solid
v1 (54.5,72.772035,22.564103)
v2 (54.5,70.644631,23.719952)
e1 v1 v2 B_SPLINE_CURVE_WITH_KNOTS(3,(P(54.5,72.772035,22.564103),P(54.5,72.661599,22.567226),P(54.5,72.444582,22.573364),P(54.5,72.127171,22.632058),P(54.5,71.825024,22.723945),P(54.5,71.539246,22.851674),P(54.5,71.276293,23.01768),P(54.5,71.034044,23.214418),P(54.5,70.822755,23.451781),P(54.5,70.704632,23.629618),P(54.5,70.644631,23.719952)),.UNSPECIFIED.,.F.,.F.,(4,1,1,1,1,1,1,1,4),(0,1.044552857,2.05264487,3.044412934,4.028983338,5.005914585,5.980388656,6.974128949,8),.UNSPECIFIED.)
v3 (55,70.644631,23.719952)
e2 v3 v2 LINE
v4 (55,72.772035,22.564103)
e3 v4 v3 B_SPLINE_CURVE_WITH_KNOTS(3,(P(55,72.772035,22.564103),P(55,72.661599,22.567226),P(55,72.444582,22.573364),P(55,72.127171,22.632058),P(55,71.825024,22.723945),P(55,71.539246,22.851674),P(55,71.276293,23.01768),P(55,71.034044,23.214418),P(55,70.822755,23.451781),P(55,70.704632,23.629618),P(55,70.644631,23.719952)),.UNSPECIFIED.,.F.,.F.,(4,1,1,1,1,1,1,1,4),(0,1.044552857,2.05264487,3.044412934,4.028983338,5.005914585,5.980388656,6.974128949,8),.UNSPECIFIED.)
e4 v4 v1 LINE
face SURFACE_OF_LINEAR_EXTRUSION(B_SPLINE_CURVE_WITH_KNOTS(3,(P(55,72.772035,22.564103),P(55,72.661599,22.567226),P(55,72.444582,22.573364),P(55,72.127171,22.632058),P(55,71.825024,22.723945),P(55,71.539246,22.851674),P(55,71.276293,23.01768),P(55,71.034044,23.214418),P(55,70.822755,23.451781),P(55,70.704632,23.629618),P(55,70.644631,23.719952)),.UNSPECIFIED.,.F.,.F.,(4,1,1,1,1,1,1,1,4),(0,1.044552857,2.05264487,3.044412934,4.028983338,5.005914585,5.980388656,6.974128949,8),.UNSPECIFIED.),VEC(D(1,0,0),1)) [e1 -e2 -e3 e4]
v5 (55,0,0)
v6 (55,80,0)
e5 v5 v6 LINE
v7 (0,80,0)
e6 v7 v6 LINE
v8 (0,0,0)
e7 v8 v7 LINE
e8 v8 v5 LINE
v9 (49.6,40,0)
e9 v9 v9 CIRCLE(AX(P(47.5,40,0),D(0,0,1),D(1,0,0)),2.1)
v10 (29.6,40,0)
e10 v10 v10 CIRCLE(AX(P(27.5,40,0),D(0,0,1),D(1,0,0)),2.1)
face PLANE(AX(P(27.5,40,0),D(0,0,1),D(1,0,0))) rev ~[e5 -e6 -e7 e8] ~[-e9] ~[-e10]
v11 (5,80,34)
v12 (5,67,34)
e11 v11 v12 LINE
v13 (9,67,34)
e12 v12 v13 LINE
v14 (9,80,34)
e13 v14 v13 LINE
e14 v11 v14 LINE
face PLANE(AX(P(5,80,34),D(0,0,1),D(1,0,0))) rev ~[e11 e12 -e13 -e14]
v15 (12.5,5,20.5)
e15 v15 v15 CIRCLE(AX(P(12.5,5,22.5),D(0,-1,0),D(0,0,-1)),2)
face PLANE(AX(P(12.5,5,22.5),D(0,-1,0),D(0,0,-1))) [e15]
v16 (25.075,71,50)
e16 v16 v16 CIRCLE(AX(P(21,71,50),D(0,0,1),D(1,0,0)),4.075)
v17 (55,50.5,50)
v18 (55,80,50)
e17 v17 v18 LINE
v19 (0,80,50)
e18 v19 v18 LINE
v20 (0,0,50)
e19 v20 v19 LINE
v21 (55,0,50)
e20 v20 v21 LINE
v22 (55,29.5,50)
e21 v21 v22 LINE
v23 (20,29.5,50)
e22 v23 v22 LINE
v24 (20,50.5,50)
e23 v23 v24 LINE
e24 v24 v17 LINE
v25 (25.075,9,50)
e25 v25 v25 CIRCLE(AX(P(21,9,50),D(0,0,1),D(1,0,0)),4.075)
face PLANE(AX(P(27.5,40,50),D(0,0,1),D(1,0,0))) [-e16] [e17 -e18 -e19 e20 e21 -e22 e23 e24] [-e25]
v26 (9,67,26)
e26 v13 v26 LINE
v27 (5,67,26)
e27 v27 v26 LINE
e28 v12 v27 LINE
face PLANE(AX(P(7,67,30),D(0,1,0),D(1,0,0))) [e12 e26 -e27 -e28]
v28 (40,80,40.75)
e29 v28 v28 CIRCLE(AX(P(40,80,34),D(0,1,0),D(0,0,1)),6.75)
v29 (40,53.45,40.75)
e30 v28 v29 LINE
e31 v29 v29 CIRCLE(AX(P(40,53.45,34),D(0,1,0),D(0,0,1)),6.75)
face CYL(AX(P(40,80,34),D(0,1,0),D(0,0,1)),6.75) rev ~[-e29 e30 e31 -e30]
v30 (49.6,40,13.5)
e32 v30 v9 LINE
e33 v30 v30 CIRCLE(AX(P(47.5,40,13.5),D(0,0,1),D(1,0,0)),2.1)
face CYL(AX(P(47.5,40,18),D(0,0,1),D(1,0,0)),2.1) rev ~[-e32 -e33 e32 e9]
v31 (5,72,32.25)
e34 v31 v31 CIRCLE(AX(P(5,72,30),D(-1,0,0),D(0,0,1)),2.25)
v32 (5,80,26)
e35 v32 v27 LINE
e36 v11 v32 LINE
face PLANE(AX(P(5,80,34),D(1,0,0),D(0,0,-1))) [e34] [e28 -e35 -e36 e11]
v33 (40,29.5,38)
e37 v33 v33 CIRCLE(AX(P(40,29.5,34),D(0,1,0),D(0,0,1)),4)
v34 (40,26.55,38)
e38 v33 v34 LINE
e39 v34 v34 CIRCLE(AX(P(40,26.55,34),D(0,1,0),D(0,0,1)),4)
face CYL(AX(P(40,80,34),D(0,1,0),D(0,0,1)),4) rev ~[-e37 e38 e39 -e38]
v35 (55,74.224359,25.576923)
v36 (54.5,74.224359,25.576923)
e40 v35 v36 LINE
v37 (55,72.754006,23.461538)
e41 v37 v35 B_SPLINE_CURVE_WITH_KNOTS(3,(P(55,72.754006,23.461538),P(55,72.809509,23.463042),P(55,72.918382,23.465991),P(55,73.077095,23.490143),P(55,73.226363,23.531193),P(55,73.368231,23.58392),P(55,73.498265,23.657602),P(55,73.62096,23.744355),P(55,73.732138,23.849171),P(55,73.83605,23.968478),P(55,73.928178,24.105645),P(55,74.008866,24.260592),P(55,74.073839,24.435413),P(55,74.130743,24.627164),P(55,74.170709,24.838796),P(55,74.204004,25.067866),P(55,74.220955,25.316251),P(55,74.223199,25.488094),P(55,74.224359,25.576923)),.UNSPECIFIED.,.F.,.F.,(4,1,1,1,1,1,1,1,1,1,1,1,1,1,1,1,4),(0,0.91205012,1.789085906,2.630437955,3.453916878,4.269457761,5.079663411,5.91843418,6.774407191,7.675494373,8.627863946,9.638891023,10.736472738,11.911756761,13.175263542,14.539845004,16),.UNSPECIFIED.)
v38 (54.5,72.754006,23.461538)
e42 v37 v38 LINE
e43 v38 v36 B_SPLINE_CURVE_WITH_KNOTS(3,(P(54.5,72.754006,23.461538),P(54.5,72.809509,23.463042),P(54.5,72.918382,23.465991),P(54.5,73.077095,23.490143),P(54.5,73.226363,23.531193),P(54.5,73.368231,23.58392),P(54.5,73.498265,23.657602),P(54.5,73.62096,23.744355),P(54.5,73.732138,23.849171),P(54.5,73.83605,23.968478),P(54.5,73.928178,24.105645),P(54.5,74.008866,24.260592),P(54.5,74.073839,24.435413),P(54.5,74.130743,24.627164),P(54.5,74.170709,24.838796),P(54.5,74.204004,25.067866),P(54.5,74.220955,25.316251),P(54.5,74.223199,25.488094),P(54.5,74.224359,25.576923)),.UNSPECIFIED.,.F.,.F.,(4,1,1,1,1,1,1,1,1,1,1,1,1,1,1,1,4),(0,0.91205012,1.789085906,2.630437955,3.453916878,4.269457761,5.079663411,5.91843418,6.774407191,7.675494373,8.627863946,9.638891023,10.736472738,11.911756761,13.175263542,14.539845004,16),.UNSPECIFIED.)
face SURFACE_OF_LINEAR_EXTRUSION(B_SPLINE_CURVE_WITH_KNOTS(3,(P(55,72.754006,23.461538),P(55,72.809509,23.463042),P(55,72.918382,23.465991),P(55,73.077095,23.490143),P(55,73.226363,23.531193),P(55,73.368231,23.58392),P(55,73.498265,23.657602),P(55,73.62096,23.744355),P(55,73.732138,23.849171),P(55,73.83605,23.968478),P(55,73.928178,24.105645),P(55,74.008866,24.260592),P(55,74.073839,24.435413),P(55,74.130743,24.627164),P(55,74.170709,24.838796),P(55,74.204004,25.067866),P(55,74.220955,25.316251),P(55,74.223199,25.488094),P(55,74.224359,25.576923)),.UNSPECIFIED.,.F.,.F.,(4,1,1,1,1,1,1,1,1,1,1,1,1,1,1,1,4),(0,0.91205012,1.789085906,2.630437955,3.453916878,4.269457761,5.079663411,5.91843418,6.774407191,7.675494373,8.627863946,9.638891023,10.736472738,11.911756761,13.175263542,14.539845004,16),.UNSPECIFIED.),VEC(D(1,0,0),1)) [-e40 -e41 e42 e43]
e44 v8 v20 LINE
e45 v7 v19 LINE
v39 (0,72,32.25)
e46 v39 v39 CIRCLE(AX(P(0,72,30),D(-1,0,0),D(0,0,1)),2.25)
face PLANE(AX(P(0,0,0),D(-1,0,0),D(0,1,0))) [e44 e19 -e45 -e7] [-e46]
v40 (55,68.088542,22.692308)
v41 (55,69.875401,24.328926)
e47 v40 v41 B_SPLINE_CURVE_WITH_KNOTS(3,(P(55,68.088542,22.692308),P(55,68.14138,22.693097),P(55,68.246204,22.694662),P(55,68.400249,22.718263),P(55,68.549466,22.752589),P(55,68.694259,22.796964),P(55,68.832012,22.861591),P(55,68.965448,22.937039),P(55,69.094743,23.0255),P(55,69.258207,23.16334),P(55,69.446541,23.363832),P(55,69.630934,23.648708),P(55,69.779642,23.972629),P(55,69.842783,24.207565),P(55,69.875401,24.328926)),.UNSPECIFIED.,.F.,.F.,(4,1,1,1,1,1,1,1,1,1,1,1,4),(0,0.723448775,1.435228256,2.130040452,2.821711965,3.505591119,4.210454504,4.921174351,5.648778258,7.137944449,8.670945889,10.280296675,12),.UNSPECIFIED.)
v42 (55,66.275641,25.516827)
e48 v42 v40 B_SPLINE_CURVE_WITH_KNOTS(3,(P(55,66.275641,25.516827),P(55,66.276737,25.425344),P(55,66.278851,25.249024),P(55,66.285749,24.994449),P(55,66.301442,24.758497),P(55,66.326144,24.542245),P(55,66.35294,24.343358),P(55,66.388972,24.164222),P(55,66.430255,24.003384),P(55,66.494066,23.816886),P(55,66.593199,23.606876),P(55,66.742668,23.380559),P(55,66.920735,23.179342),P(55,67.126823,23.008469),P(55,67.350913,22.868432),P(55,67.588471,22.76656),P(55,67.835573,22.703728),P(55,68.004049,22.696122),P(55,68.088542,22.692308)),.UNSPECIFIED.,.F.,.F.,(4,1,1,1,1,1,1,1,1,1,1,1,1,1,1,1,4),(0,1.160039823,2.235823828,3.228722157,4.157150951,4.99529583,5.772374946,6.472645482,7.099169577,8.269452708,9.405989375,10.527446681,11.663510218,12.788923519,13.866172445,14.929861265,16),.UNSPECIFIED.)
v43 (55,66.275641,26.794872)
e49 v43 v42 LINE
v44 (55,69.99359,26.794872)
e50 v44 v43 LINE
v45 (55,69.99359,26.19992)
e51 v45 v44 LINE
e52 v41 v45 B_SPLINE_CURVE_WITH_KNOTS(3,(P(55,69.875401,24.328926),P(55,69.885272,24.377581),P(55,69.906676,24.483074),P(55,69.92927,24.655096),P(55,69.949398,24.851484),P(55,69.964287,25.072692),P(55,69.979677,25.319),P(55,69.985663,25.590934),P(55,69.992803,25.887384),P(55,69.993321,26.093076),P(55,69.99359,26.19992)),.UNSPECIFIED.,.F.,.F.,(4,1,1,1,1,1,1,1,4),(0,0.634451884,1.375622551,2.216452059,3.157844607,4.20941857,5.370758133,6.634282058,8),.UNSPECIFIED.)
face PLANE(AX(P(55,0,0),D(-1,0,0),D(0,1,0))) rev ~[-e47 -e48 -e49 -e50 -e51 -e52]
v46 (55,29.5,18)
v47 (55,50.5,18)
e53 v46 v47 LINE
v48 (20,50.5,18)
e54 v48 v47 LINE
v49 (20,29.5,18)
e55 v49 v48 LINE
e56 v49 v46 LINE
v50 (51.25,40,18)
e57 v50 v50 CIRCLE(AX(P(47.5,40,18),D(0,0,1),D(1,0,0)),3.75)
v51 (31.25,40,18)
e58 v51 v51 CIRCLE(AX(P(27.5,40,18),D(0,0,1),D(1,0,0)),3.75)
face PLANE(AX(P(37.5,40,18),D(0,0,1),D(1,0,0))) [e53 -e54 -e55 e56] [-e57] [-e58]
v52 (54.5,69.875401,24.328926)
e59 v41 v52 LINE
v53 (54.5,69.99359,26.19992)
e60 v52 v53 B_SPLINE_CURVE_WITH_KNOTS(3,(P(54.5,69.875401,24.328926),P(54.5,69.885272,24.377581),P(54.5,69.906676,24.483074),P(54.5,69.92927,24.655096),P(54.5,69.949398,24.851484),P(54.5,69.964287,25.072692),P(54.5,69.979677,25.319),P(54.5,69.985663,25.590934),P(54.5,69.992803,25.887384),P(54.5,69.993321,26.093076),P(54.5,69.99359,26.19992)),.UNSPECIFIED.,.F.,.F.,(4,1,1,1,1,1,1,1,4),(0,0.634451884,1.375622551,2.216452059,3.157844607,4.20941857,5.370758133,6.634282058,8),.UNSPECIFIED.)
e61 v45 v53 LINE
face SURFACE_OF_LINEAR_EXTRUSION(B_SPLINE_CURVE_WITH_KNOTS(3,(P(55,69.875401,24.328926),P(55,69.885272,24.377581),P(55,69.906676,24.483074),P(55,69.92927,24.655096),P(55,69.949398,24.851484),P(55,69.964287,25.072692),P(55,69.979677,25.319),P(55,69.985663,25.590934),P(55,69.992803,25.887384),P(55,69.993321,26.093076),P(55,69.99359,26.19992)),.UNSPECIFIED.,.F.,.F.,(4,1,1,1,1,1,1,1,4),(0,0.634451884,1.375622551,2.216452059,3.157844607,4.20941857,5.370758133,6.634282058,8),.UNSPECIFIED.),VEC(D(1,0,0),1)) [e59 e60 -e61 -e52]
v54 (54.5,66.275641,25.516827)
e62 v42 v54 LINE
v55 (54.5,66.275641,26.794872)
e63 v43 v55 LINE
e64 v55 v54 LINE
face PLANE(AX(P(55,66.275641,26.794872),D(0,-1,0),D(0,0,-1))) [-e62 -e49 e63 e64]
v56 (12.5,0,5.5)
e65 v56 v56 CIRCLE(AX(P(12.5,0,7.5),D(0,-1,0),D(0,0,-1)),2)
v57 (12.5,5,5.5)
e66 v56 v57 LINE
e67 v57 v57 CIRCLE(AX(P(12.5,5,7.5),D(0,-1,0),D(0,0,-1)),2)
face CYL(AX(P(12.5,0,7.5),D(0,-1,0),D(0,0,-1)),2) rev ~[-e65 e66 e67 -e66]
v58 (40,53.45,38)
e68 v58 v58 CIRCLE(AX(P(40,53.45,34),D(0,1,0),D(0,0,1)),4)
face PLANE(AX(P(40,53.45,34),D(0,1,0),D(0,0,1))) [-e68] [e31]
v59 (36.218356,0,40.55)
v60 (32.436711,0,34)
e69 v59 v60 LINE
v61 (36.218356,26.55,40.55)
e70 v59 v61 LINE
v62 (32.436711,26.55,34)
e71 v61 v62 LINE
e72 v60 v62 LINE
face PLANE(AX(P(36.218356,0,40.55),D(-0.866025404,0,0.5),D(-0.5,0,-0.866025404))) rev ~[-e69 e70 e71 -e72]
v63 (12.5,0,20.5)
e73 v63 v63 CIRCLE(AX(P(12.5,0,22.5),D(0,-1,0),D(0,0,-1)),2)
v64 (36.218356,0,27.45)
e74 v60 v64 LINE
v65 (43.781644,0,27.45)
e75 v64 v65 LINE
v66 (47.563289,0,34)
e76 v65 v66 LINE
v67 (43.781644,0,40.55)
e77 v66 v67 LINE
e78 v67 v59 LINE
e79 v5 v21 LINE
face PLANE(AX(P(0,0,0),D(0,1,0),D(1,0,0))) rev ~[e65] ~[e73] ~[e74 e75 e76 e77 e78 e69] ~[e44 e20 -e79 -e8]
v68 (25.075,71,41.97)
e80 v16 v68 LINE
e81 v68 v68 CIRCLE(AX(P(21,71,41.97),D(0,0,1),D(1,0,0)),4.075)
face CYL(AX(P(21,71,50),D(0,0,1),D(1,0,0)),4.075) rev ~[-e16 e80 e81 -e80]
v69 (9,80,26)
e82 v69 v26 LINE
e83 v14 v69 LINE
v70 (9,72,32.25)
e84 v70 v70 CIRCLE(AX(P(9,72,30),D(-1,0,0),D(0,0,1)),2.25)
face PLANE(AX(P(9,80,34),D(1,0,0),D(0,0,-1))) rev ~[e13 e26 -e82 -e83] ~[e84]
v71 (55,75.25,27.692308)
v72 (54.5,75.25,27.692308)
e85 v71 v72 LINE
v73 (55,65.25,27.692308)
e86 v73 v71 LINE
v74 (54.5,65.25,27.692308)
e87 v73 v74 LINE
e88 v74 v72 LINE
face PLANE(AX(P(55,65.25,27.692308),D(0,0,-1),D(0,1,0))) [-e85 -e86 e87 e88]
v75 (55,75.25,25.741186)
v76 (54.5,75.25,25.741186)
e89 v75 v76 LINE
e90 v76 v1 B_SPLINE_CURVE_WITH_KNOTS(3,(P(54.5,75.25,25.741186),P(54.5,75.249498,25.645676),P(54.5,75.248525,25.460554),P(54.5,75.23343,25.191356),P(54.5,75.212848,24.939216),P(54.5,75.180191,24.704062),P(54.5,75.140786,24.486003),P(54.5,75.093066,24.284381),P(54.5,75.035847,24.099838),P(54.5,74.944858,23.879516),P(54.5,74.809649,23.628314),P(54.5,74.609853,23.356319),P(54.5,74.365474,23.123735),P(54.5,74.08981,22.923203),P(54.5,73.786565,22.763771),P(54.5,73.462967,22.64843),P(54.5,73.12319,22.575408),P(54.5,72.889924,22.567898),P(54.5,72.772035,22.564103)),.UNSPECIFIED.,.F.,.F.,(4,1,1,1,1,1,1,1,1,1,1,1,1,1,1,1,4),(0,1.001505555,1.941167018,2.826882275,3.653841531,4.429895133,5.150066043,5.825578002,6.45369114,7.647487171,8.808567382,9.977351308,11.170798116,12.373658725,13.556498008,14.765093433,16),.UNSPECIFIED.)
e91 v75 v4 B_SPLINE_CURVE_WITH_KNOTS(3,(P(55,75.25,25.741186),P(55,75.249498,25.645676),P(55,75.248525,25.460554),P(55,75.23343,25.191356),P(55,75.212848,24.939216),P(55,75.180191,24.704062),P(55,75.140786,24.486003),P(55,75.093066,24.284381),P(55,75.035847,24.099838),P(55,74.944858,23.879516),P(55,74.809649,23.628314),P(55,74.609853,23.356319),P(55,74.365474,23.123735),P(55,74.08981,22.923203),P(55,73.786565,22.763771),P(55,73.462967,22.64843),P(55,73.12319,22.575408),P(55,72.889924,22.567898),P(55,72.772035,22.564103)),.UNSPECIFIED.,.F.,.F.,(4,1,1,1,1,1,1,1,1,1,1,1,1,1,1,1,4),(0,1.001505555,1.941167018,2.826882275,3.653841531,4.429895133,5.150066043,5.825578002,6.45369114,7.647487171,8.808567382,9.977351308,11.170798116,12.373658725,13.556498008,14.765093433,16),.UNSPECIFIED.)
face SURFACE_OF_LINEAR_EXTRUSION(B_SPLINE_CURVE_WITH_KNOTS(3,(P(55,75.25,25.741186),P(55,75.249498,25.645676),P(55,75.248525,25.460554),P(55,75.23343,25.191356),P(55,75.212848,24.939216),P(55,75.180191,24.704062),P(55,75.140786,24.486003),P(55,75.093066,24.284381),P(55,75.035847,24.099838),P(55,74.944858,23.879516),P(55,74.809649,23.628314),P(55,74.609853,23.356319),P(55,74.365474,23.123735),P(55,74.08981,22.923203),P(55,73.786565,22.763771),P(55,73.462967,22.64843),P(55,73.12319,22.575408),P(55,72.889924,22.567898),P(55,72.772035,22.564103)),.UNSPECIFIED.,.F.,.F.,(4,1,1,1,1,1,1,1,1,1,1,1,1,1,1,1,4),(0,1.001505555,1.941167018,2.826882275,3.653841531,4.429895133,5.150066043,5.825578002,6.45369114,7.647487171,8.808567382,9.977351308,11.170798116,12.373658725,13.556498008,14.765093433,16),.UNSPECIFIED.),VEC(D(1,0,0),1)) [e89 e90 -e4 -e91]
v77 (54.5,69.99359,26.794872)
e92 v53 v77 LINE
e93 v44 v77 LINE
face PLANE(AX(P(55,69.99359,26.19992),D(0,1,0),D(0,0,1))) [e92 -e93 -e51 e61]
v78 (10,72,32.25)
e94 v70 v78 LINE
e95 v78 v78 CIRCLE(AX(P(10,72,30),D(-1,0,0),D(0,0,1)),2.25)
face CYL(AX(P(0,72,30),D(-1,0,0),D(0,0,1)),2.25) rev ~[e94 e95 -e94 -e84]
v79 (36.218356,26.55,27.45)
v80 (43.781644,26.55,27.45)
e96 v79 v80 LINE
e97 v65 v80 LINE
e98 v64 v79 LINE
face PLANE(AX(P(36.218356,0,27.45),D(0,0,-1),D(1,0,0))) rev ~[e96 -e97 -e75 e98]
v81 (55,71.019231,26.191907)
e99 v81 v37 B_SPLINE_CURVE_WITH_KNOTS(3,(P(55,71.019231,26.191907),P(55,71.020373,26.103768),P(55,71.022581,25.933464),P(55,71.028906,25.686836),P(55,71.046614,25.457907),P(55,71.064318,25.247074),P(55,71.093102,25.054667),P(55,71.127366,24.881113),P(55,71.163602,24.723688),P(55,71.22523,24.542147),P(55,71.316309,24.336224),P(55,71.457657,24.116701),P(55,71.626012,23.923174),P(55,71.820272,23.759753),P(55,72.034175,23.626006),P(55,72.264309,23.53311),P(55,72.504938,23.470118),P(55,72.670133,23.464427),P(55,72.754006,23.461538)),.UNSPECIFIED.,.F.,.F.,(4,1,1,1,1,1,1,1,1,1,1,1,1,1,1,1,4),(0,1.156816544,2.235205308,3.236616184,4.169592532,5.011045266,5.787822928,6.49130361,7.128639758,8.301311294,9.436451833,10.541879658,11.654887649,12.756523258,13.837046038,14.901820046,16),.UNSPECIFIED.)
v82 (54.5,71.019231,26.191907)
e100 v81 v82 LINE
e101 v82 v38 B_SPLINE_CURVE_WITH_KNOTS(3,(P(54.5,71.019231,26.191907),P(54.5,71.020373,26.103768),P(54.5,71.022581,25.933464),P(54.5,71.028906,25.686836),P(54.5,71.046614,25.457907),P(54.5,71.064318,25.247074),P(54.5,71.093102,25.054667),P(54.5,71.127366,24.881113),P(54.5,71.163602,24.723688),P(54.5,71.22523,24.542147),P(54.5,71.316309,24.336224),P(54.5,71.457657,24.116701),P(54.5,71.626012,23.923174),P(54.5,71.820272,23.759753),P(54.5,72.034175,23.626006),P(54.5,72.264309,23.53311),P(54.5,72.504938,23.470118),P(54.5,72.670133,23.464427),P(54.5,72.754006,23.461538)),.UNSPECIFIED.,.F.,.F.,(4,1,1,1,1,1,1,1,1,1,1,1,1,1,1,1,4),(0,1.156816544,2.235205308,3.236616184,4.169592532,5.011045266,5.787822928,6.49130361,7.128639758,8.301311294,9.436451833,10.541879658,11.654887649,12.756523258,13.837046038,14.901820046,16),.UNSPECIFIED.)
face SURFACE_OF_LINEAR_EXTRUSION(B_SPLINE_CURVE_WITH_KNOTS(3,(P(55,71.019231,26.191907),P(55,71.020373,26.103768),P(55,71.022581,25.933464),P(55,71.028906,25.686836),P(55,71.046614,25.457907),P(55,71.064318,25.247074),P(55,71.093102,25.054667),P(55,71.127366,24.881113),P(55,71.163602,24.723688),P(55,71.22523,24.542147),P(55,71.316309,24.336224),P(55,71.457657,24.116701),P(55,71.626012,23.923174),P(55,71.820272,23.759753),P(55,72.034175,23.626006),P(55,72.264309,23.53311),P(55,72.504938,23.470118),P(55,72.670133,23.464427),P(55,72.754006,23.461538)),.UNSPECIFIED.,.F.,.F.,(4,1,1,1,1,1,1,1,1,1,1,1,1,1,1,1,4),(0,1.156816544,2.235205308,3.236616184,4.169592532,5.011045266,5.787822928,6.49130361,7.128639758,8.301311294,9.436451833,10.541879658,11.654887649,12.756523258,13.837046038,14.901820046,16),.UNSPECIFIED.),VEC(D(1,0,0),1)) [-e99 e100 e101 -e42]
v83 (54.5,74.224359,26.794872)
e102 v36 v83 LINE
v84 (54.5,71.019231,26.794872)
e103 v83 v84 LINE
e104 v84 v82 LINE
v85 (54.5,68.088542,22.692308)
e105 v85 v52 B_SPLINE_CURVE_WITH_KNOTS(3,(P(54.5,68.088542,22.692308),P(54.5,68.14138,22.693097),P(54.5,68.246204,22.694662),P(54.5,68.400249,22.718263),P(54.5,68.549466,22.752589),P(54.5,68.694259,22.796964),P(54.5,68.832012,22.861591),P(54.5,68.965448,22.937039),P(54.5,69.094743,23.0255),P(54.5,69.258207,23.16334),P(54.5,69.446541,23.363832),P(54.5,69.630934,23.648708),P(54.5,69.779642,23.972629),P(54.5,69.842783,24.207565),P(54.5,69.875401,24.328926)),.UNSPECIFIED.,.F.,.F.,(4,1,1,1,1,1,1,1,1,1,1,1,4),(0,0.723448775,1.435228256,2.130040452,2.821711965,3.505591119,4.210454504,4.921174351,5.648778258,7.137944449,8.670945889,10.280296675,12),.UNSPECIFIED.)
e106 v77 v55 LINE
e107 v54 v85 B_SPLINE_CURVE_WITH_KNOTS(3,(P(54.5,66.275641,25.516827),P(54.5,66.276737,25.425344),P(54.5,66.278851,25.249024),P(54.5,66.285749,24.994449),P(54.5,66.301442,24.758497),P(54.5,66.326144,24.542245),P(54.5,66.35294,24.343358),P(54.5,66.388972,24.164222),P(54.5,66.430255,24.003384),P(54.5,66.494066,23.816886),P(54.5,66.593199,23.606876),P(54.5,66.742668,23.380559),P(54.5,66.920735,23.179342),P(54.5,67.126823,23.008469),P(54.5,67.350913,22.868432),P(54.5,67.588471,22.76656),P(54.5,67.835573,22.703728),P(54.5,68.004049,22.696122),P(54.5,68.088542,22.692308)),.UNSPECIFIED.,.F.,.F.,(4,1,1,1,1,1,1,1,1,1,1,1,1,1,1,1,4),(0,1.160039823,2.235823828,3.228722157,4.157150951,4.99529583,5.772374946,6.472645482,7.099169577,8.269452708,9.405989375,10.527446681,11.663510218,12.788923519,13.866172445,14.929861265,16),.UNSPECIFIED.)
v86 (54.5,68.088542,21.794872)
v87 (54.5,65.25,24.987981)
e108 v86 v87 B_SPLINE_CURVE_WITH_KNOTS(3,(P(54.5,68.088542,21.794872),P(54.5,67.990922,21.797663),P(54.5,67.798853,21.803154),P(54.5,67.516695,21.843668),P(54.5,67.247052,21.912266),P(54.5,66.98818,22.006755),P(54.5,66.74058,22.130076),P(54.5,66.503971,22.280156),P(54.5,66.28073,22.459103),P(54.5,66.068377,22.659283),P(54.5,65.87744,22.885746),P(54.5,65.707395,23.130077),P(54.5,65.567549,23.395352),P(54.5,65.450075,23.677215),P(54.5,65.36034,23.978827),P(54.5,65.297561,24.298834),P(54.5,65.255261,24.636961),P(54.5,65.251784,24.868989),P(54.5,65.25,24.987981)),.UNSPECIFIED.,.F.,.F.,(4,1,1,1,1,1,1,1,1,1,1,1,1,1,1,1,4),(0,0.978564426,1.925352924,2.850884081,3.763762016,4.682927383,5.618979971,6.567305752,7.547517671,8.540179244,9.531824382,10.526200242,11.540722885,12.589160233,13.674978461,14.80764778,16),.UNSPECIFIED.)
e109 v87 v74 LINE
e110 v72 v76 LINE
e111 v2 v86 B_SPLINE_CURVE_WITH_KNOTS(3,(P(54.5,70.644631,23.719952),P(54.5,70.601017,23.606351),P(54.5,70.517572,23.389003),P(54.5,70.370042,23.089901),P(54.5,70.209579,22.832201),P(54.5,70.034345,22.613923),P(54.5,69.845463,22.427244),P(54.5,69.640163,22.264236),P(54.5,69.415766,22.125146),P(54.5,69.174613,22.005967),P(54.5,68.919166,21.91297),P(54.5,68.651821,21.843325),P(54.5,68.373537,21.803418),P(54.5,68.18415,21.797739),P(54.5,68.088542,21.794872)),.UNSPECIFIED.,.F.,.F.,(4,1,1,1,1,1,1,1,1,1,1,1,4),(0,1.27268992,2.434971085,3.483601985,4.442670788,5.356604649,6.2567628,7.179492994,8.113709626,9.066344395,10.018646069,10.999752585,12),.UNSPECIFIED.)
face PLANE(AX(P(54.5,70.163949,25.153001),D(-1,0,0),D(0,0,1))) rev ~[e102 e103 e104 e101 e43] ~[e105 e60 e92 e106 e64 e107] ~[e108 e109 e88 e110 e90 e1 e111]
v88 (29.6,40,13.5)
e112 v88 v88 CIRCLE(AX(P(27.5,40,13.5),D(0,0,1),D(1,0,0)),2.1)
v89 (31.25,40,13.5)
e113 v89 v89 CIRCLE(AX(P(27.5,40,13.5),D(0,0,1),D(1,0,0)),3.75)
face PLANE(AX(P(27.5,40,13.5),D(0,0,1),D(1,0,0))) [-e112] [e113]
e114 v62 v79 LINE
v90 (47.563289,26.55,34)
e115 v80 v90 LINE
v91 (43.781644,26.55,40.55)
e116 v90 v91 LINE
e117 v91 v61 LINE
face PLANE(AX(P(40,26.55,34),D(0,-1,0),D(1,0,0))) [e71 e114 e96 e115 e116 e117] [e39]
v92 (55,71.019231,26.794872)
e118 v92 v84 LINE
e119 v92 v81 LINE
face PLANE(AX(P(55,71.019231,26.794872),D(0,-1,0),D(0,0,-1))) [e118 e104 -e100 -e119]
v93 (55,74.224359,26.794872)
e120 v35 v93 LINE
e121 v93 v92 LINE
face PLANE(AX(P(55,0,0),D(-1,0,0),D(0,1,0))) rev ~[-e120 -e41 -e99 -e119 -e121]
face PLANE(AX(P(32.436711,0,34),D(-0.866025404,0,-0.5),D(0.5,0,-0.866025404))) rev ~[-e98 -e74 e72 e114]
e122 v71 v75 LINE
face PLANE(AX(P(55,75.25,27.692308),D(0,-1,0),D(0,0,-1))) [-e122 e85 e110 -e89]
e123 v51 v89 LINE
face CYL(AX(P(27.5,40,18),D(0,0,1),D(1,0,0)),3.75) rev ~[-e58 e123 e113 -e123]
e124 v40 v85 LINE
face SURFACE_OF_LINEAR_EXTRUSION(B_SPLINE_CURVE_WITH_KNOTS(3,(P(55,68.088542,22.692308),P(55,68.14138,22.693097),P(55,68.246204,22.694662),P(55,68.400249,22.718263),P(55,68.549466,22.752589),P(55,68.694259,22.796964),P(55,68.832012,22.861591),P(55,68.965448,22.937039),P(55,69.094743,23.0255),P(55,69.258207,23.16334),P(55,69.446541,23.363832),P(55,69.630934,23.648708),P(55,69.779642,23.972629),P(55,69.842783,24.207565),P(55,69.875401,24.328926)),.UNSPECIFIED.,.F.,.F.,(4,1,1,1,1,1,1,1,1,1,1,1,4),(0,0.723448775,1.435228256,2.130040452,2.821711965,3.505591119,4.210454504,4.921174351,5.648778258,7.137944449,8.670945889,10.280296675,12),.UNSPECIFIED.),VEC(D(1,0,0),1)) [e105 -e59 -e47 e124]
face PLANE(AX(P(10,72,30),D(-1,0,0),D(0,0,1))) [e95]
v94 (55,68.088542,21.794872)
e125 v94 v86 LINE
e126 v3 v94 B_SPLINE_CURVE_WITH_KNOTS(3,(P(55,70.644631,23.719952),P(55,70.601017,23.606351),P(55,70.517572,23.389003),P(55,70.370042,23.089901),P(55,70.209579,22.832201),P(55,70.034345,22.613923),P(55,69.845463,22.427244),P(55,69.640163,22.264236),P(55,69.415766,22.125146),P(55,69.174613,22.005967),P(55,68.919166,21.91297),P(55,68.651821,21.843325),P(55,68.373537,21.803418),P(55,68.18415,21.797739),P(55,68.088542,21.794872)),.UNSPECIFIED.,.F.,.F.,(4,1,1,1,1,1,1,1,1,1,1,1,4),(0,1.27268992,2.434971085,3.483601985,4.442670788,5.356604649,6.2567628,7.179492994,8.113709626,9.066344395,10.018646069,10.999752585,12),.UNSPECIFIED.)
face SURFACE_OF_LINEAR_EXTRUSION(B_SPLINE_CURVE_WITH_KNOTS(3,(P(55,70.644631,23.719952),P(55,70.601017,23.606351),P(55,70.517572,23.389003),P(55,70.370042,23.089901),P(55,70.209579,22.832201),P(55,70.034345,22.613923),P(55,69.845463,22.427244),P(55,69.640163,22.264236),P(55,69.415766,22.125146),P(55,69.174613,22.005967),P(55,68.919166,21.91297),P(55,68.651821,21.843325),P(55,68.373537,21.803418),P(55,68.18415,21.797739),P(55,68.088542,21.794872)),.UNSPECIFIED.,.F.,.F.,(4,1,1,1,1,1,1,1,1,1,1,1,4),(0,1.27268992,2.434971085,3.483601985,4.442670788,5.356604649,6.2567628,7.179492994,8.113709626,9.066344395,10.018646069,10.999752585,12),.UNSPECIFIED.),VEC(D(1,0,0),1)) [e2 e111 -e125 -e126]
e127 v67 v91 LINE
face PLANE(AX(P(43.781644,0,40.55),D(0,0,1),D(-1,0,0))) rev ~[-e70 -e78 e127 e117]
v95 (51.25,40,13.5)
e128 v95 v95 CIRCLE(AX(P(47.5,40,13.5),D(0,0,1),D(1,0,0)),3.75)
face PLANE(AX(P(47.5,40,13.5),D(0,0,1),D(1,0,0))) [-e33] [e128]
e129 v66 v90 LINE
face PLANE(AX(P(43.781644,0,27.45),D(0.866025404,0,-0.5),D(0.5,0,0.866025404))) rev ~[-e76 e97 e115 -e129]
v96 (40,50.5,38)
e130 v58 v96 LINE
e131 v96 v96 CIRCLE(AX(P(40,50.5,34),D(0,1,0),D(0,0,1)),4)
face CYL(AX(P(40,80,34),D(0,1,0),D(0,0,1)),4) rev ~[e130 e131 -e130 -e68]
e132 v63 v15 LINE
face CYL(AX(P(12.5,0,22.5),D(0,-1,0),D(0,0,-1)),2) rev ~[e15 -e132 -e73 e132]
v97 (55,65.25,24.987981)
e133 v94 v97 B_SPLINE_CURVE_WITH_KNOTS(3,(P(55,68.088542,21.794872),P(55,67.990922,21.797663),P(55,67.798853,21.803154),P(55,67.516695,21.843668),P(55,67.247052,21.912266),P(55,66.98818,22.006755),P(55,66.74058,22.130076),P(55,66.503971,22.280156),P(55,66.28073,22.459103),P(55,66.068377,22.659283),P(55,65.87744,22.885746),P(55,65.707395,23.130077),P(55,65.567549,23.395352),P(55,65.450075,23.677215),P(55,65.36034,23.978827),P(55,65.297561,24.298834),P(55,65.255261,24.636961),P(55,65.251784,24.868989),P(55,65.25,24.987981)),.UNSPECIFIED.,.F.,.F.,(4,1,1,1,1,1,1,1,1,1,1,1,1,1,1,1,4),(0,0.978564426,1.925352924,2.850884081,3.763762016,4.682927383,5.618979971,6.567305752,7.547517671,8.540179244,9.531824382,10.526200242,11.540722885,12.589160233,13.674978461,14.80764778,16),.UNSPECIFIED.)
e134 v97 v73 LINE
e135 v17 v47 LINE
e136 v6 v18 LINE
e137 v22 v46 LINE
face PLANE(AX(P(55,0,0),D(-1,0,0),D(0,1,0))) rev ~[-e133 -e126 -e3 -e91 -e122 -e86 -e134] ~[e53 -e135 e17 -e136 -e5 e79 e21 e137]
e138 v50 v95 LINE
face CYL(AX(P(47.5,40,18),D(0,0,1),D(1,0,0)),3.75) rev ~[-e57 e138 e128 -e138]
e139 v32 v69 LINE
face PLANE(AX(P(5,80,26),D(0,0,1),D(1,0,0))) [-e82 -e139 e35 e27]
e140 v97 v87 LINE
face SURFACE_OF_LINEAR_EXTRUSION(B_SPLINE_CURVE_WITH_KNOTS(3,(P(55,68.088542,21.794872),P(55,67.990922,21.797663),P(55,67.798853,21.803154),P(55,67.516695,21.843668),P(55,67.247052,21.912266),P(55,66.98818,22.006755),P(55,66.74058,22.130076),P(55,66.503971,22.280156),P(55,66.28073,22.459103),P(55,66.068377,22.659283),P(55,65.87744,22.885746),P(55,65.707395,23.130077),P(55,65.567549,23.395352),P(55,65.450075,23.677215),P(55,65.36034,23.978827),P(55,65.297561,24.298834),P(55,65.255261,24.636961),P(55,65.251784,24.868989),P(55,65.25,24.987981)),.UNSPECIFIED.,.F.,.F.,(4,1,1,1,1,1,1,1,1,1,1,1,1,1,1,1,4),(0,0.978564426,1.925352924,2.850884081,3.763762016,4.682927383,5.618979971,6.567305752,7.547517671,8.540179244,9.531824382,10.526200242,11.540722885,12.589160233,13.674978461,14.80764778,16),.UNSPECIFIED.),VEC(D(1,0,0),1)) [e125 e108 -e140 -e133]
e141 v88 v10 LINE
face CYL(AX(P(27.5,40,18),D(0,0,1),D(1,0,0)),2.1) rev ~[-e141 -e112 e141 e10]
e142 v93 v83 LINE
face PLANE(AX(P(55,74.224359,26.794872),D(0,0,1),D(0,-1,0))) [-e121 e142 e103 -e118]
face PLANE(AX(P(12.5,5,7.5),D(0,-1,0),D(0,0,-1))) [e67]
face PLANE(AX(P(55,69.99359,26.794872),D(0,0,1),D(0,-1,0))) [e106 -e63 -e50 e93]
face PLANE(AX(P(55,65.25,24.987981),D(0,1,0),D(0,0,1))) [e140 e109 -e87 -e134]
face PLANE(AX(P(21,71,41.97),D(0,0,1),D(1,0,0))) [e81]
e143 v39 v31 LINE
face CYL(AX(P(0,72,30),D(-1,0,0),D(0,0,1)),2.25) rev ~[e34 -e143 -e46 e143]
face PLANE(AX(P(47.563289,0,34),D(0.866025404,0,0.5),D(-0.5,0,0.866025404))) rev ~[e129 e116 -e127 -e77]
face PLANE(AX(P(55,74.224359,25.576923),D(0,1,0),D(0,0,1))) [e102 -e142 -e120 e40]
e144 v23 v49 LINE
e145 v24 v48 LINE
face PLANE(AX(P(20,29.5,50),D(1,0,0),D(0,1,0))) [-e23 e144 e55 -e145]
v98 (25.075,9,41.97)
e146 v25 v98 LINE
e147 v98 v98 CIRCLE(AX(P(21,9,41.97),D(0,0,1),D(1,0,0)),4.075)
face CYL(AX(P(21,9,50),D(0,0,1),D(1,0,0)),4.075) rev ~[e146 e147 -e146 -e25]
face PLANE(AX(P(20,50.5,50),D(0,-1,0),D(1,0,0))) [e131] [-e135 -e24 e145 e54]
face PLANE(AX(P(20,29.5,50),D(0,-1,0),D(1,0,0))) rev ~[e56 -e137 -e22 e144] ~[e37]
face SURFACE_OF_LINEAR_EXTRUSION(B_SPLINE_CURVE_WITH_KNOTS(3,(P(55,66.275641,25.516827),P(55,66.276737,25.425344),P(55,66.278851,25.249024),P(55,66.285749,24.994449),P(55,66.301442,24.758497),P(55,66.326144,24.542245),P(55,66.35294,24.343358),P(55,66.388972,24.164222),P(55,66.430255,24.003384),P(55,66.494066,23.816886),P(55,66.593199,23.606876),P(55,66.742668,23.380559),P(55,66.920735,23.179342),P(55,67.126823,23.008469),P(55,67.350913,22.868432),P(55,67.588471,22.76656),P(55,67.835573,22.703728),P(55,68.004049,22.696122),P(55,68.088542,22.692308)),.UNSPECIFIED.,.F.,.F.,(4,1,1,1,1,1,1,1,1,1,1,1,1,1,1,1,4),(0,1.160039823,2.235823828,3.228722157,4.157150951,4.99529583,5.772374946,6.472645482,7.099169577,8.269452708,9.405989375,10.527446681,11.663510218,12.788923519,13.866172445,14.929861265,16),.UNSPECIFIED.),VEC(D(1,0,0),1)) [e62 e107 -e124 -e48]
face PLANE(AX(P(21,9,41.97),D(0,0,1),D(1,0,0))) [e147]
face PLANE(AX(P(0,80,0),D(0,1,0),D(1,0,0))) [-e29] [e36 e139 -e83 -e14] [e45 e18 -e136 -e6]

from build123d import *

# Parameters (mm, degrees)
SKETCH2_W           = 55
SKETCH2_H           = 80
BOSS_EXTRUDE1_DEPTH = 50
SKETCH4_R           = 4
CUT_EXTRUDE1_DEPTH  = 110.201648339
SKETCH5_R           = 4.075
CUT_EXTRUDE2_DEPTH  = 8.03
SKETCH6_W           = 35
SKETCH6_H           = 21
CUT_EXTRUDE3_DEPTH  = 32
SKETCH10_R          = 6.75
CUT_EXTRUDE5_DEPTH  = 26.55
CUT_EXTRUDE6_DEPTH  = 26.55
SKETCH12_R          = 2
CUT_EXTRUDE7_DEPTH  = 5
SKETCH13_R          = 2.1
CUT_EXTRUDE8_DEPTH  = 103.220350224
SKETCH13_3_R        = 3.75
CUT_EXTRUDE9_DEPTH  = 4.5
SKETCH14_R          = 2.25
CUT_EXTRUDE10_DEPTH = 10
SKETCH15_W          = 4
SKETCH15_H          = 8
CUT_EXTRUDE11_DEPTH = 13
CUT_EXTRUDE12_DEPTH = 0.5


with BuildPart() as part:
    # Sketch2 → Boss-Extrude1 (new body)
    with BuildSketch(Plane.XY):
        with Locations((27.5, 40)):
            Rectangle(SKETCH2_W, SKETCH2_H)
    extrude(amount=BOSS_EXTRUDE1_DEPTH)

    # Sketch4 → Cut-Extrude1 (cut, through all)
    with BuildSketch(Plane(origin=(0, 80, 0), x_dir=(1, 0, 0), z_dir=(0, 1, 0))):
        with Locations(Location((40, -34, 0), (0, 0, 270))):
            Circle(SKETCH4_R)
    extrude(amount=-CUT_EXTRUDE1_DEPTH, mode=Mode.SUBTRACT)

    # Sketch5 → Cut-Extrude2 (cut)
    with BuildSketch(Plane.XY.offset(50)):
        with Locations((21, 71)):
            Circle(SKETCH5_R)
        with Locations((21, 9)):
            Circle(SKETCH5_R)
    extrude(amount=-CUT_EXTRUDE2_DEPTH, mode=Mode.SUBTRACT)

    # Sketch6 → Cut-Extrude3 (cut)
    with BuildSketch(Plane.XY.offset(50)):
        with Locations((37.5, 40)):
            Rectangle(SKETCH6_W, SKETCH6_H)
    extrude(amount=-CUT_EXTRUDE3_DEPTH, mode=Mode.SUBTRACT)

    # Sketch10 → Cut-Extrude5 (cut)
    with BuildSketch(Plane(origin=(0, 80, 0), x_dir=(1, 0, 0), z_dir=(0, 1, 0))):
        with Locations(Location((40, -34, 0), (0, 0, 270))):
            Circle(SKETCH10_R)
    extrude(amount=-CUT_EXTRUDE5_DEPTH, mode=Mode.SUBTRACT)

    # Sketch11 → Cut-Extrude6 (cut)
    with BuildSketch(Plane.XZ):
        Polygon((47.563288526, 34), (43.781644263, 40.55), (36.218355737, 40.55), (32.436711474, 34), (36.218355737, 27.45), (43.781644263, 27.45), align=None)
    extrude(amount=-CUT_EXTRUDE6_DEPTH, mode=Mode.SUBTRACT)

    # Sketch12 → Cut-Extrude7 (cut)
    with BuildSketch(Plane.XZ):
        with Locations(Location((12.5, 7.5, 0), (0, 0, 270))):
            Circle(SKETCH12_R)
        with Locations(Location((12.5, 22.5, 0), (0, 0, 270))):
            Circle(SKETCH12_R)
    extrude(amount=-CUT_EXTRUDE7_DEPTH, mode=Mode.SUBTRACT)

    # Sketch13 → Cut-Extrude8 (cut, through all)
    with BuildSketch(Plane.XY.offset(18)):
        with Locations((27.5, 40)):
            Circle(SKETCH13_R)
        with Locations((47.5, 40)):
            Circle(SKETCH13_R)
    extrude(amount=-CUT_EXTRUDE8_DEPTH, mode=Mode.SUBTRACT)

    # Sketch13<3> → Cut-Extrude9 (cut)
    with BuildSketch(Plane.XY.offset(18)):
        with Locations((27.5, 40)):
            Circle(SKETCH13_3_R)
        with Locations((47.5, 40)):
            Circle(SKETCH13_3_R)
    extrude(amount=-CUT_EXTRUDE9_DEPTH, mode=Mode.SUBTRACT)

    # Sketch14 → Cut-Extrude10 (cut)
    with BuildSketch(Plane.ZY):
        with Locations((30, 72)):
            Circle(SKETCH14_R)
    extrude(amount=-CUT_EXTRUDE10_DEPTH, mode=Mode.SUBTRACT)

    # Sketch15 → Cut-Extrude11 (cut)
    with BuildSketch(Plane(origin=(0, 80, 0), x_dir=(1, 0, 0), z_dir=(0, 1, 0))):
        with Locations((7, -30)):
            Rectangle(SKETCH15_W, SKETCH15_H)
    extrude(amount=-CUT_EXTRUDE11_DEPTH, mode=Mode.SUBTRACT)

    # Sketch16 → Cut-Extrude12 (cut)
    with BuildSketch(Plane(origin=(55, 0, 0), x_dir=(0, 0, -1), z_dir=(1, 0, 0))):
        with BuildLine():
            Line((-27.692307692, 75.25), (-25.741185897, 75.25))
            add(Edge.make_bspline(
                [(-25.741185897, 75.25), (-25.64567596, 75.249497856), (-25.46055393, 75.248524576), (-25.191355525, 75.233429916), (-24.939216066, 75.212848002), (-24.704062431, 75.180190594), (-24.486003281, 75.140785516), (-24.28438146, 75.093066042), (-24.099838111, 75.035847146), (-23.879516007, 74.944857771), (-23.628314119, 74.809648718), (-23.356318711, 74.609852818), (-23.12373517, 74.365474352), (-22.923202835, 74.089809622), (-22.763771065, 73.78656456), (-22.648430215, 73.462966878), (-22.575407714, 73.123190472), (-22.567897902, 72.88992425), (-22.564102564, 72.772035256)],
                knots=[0, 0, 0, 0, 1.001505555, 1.941167018, 2.826882275, 3.653841531, 4.429895133, 5.150066043, 5.825578002, 6.45369114, 7.647487171, 8.808567382, 9.977351308, 11.170798116, 12.373658725, 13.556498008, 14.765093433, 16, 16, 16, 16], degree=3))
            add(Edge.make_bspline(
                [(-22.564102564, 72.772035256), (-22.567226045, 72.661599383), (-22.573363981, 72.444582477), (-22.632057579, 72.127170736), (-22.723945203, 71.825024397), (-22.851674486, 71.539246153), (-23.01768019, 71.276292972), (-23.214418243, 71.034043641), (-23.451780536, 70.822754907), (-23.629618364, 70.704632328), (-23.719951923, 70.64463141)],
                knots=[0, 0, 0, 0, 1.044552857, 2.05264487, 3.044412934, 4.028983338, 5.005914585, 5.980388656, 6.974128949, 8, 8, 8, 8], degree=3))
            add(Edge.make_bspline(
                [(-23.719951923, 70.64463141), (-23.606350701, 70.601017128), (-23.389003423, 70.517572201), (-23.08990053, 70.370042304), (-22.832200973, 70.209579131), (-22.613923413, 70.034345273), (-22.427244399, 69.845462957), (-22.264235995, 69.640162631), (-22.125146354, 69.415766179), (-22.005966573, 69.174613221), (-21.912970127, 68.919166169), (-21.843324686, 68.651821094), (-21.803417688, 68.373536651), (-21.797738713, 68.184149853), (-21.794871795, 68.088541667)],
                knots=[0, 0, 0, 0, 1.27268992, 2.434971085, 3.483601985, 4.442670788, 5.356604649, 6.2567628, 7.179492994, 8.113709626, 9.066344395, 10.018646069, 10.999752585, 12, 12, 12, 12], degree=3))
            add(Edge.make_bspline(
                [(-21.794871795, 68.088541667), (-21.797662784, 67.990922032), (-21.803154132, 67.798852666), (-21.843668337, 67.516695139), (-21.912265786, 67.247052434), (-22.006754775, 66.988180484), (-22.130075674, 66.740580099), (-22.280155572, 66.503970774), (-22.459102897, 66.280729829), (-22.659282522, 66.06837662), (-22.885745795, 65.877440085), (-23.130076523, 65.707395209), (-23.395351723, 65.567549317), (-23.677214563, 65.45007497), (-23.978826895, 65.360340117), (-24.298834345, 65.297561334), (-24.636960921, 65.255261229), (-24.868988782, 65.2517835), (-24.987980769, 65.25)],
                knots=[0, 0, 0, 0, 0.978564426, 1.925352924, 2.850884081, 3.763762016, 4.682927383, 5.618979971, 6.567305752, 7.547517671, 8.540179244, 9.531824382, 10.526200242, 11.540722885, 12.589160233, 13.674978461, 14.80764778, 16, 16, 16, 16], degree=3))
            Line((-24.987980769, 65.25), (-27.692307692, 65.25))
            Line((-27.692307692, 65.25), (-27.692307692, 75.25))
        make_face()
        with BuildLine():
            Line((-26.794871795, 74.224358974), (-26.794871795, 71.019230769))
            Line((-26.794871795, 71.019230769), (-26.191907051, 71.019230769))
            add(Edge.make_bspline(
                [(-26.191907051, 71.019230769), (-26.103767636, 71.020373406), (-25.933464324, 71.022581214), (-25.686836048, 71.028905549), (-25.457907424, 71.046614244), (-25.247073616, 71.06431785), (-25.054666633, 71.093102386), (-24.881112743, 71.127365595), (-24.72368818, 71.163602466), (-24.542146622, 71.225229572), (-24.336223912, 71.316308644), (-24.116700757, 71.457656747), (-23.923173701, 71.626012042), (-23.759753165, 71.820271932), (-23.626006106, 72.034175321), (-23.533109777, 72.264309265), (-23.470117536, 72.504938213), (-23.464427447, 72.670133221), (-23.461538462, 72.75400641)],
                knots=[0, 0, 0, 0, 1.156816544, 2.235205308, 3.236616184, 4.169592532, 5.011045266, 5.787822928, 6.49130361, 7.128639758, 8.301311294, 9.436451833, 10.541879658, 11.654887649, 12.756523258, 13.837046038, 14.901820046, 16, 16, 16, 16], degree=3))
            add(Edge.make_bspline(
                [(-23.461538462, 72.75400641), (-23.463041833, 72.809508615), (-23.465990862, 72.918382249), (-23.490143155, 73.07709469), (-23.531193368, 73.226362554), (-23.58391992, 73.368231441), (-23.657601887, 73.498265298), (-23.74435464, 73.620960143), (-23.849170898, 73.732137625), (-23.968477505, 73.836050477), (-24.105644999, 73.928177699), (-24.260591547, 74.008865594), (-24.435413482, 74.073839242), (-24.627164496, 74.130742534), (-24.838796175, 74.170709088), (-25.067866327, 74.204004482), (-25.316251239, 74.220955173), (-25.488094389, 74.223199067), (-25.576923077, 74.224358974)],
                knots=[0, 0, 0, 0, 0.91205012, 1.789085906, 2.630437955, 3.453916878, 4.269457761, 5.079663411, 5.91843418, 6.774407191, 7.675494373, 8.627863946, 9.638891023, 10.736472738, 11.911756761, 13.175263542, 14.539845004, 16, 16, 16, 16], degree=3))
            Line((-25.576923077, 74.224358974), (-26.794871795, 74.224358974))
        make_face(mode=Mode.SUBTRACT)
        with BuildLine():
            Line((-26.794871795, 69.993589744), (-26.794871795, 66.275641026))
            Line((-26.794871795, 66.275641026), (-25.516826923, 66.275641026))
            add(Edge.make_bspline(
                [(-25.516826923, 66.275641026), (-25.425344278, 66.276737447), (-25.249023539, 66.278850654), (-24.994448596, 66.285749381), (-24.75849687, 66.301441598), (-24.542245054, 66.326144025), (-24.343358047, 66.352939594), (-24.164221752, 66.388971825), (-24.003384057, 66.43025457), (-23.816886034, 66.49406649), (-23.606876011, 66.593199265), (-23.380559278, 66.742668483), (-23.179341512, 66.920735076), (-23.008469343, 67.126823403), (-22.868432233, 67.350912908), (-22.766559504, 67.588471051), (-22.703728485, 67.835572558), (-22.696122287, 68.004048879), (-22.692307692, 68.088541667)],
                knots=[0, 0, 0, 0, 1.160039823, 2.235823828, 3.228722157, 4.157150951, 4.99529583, 5.772374946, 6.472645482, 7.099169577, 8.269452708, 9.405989375, 10.527446681, 11.663510218, 12.788923519, 13.866172445, 14.929861265, 16, 16, 16, 16], degree=3))
            add(Edge.make_bspline(
                [(-22.692307692, 68.088541667), (-22.693096562, 68.141379782), (-22.694661576, 68.24620373), (-22.718263333, 68.400248928), (-22.752588676, 68.549465709), (-22.796964201, 68.694259253), (-22.86159125, 68.832011757), (-22.937038521, 68.965447641), (-23.025499669, 69.094743297), (-23.163340143, 69.258206878), (-23.363831527, 69.446541201), (-23.648708028, 69.630934064), (-23.97262888, 69.779642085), (-24.207564574, 69.842783446), (-24.328926282, 69.875400641)],
                knots=[0, 0, 0, 0, 0.723448775, 1.435228256, 2.130040452, 2.821711965, 3.505591119, 4.210454504, 4.921174351, 5.648778258, 7.137944449, 8.670945889, 10.280296675, 12, 12, 12, 12], degree=3))
            add(Edge.make_bspline(
                [(-24.328926282, 69.875400641), (-24.377580842, 69.885272309), (-24.483073963, 69.906676123), (-24.655095621, 69.929269561), (-24.851483818, 69.949398304), (-25.072692039, 69.964287326), (-25.319000156, 69.97967745), (-25.590934209, 69.985662653), (-25.88738368, 69.992803396), (-26.093076172, 69.993320923), (-26.199919872, 69.993589744)],
                knots=[0, 0, 0, 0, 0.634451884, 1.375622551, 2.216452059, 3.157844607, 4.20941857, 5.370758133, 6.634282058, 8, 8, 8, 8], degree=3))
            Line((-26.199919872, 69.993589744), (-26.794871795, 69.993589744))
        make_face(mode=Mode.SUBTRACT)
    extrude(amount=-CUT_EXTRUDE12_DEPTH, mode=Mode.SUBTRACT)


solid = part.part
